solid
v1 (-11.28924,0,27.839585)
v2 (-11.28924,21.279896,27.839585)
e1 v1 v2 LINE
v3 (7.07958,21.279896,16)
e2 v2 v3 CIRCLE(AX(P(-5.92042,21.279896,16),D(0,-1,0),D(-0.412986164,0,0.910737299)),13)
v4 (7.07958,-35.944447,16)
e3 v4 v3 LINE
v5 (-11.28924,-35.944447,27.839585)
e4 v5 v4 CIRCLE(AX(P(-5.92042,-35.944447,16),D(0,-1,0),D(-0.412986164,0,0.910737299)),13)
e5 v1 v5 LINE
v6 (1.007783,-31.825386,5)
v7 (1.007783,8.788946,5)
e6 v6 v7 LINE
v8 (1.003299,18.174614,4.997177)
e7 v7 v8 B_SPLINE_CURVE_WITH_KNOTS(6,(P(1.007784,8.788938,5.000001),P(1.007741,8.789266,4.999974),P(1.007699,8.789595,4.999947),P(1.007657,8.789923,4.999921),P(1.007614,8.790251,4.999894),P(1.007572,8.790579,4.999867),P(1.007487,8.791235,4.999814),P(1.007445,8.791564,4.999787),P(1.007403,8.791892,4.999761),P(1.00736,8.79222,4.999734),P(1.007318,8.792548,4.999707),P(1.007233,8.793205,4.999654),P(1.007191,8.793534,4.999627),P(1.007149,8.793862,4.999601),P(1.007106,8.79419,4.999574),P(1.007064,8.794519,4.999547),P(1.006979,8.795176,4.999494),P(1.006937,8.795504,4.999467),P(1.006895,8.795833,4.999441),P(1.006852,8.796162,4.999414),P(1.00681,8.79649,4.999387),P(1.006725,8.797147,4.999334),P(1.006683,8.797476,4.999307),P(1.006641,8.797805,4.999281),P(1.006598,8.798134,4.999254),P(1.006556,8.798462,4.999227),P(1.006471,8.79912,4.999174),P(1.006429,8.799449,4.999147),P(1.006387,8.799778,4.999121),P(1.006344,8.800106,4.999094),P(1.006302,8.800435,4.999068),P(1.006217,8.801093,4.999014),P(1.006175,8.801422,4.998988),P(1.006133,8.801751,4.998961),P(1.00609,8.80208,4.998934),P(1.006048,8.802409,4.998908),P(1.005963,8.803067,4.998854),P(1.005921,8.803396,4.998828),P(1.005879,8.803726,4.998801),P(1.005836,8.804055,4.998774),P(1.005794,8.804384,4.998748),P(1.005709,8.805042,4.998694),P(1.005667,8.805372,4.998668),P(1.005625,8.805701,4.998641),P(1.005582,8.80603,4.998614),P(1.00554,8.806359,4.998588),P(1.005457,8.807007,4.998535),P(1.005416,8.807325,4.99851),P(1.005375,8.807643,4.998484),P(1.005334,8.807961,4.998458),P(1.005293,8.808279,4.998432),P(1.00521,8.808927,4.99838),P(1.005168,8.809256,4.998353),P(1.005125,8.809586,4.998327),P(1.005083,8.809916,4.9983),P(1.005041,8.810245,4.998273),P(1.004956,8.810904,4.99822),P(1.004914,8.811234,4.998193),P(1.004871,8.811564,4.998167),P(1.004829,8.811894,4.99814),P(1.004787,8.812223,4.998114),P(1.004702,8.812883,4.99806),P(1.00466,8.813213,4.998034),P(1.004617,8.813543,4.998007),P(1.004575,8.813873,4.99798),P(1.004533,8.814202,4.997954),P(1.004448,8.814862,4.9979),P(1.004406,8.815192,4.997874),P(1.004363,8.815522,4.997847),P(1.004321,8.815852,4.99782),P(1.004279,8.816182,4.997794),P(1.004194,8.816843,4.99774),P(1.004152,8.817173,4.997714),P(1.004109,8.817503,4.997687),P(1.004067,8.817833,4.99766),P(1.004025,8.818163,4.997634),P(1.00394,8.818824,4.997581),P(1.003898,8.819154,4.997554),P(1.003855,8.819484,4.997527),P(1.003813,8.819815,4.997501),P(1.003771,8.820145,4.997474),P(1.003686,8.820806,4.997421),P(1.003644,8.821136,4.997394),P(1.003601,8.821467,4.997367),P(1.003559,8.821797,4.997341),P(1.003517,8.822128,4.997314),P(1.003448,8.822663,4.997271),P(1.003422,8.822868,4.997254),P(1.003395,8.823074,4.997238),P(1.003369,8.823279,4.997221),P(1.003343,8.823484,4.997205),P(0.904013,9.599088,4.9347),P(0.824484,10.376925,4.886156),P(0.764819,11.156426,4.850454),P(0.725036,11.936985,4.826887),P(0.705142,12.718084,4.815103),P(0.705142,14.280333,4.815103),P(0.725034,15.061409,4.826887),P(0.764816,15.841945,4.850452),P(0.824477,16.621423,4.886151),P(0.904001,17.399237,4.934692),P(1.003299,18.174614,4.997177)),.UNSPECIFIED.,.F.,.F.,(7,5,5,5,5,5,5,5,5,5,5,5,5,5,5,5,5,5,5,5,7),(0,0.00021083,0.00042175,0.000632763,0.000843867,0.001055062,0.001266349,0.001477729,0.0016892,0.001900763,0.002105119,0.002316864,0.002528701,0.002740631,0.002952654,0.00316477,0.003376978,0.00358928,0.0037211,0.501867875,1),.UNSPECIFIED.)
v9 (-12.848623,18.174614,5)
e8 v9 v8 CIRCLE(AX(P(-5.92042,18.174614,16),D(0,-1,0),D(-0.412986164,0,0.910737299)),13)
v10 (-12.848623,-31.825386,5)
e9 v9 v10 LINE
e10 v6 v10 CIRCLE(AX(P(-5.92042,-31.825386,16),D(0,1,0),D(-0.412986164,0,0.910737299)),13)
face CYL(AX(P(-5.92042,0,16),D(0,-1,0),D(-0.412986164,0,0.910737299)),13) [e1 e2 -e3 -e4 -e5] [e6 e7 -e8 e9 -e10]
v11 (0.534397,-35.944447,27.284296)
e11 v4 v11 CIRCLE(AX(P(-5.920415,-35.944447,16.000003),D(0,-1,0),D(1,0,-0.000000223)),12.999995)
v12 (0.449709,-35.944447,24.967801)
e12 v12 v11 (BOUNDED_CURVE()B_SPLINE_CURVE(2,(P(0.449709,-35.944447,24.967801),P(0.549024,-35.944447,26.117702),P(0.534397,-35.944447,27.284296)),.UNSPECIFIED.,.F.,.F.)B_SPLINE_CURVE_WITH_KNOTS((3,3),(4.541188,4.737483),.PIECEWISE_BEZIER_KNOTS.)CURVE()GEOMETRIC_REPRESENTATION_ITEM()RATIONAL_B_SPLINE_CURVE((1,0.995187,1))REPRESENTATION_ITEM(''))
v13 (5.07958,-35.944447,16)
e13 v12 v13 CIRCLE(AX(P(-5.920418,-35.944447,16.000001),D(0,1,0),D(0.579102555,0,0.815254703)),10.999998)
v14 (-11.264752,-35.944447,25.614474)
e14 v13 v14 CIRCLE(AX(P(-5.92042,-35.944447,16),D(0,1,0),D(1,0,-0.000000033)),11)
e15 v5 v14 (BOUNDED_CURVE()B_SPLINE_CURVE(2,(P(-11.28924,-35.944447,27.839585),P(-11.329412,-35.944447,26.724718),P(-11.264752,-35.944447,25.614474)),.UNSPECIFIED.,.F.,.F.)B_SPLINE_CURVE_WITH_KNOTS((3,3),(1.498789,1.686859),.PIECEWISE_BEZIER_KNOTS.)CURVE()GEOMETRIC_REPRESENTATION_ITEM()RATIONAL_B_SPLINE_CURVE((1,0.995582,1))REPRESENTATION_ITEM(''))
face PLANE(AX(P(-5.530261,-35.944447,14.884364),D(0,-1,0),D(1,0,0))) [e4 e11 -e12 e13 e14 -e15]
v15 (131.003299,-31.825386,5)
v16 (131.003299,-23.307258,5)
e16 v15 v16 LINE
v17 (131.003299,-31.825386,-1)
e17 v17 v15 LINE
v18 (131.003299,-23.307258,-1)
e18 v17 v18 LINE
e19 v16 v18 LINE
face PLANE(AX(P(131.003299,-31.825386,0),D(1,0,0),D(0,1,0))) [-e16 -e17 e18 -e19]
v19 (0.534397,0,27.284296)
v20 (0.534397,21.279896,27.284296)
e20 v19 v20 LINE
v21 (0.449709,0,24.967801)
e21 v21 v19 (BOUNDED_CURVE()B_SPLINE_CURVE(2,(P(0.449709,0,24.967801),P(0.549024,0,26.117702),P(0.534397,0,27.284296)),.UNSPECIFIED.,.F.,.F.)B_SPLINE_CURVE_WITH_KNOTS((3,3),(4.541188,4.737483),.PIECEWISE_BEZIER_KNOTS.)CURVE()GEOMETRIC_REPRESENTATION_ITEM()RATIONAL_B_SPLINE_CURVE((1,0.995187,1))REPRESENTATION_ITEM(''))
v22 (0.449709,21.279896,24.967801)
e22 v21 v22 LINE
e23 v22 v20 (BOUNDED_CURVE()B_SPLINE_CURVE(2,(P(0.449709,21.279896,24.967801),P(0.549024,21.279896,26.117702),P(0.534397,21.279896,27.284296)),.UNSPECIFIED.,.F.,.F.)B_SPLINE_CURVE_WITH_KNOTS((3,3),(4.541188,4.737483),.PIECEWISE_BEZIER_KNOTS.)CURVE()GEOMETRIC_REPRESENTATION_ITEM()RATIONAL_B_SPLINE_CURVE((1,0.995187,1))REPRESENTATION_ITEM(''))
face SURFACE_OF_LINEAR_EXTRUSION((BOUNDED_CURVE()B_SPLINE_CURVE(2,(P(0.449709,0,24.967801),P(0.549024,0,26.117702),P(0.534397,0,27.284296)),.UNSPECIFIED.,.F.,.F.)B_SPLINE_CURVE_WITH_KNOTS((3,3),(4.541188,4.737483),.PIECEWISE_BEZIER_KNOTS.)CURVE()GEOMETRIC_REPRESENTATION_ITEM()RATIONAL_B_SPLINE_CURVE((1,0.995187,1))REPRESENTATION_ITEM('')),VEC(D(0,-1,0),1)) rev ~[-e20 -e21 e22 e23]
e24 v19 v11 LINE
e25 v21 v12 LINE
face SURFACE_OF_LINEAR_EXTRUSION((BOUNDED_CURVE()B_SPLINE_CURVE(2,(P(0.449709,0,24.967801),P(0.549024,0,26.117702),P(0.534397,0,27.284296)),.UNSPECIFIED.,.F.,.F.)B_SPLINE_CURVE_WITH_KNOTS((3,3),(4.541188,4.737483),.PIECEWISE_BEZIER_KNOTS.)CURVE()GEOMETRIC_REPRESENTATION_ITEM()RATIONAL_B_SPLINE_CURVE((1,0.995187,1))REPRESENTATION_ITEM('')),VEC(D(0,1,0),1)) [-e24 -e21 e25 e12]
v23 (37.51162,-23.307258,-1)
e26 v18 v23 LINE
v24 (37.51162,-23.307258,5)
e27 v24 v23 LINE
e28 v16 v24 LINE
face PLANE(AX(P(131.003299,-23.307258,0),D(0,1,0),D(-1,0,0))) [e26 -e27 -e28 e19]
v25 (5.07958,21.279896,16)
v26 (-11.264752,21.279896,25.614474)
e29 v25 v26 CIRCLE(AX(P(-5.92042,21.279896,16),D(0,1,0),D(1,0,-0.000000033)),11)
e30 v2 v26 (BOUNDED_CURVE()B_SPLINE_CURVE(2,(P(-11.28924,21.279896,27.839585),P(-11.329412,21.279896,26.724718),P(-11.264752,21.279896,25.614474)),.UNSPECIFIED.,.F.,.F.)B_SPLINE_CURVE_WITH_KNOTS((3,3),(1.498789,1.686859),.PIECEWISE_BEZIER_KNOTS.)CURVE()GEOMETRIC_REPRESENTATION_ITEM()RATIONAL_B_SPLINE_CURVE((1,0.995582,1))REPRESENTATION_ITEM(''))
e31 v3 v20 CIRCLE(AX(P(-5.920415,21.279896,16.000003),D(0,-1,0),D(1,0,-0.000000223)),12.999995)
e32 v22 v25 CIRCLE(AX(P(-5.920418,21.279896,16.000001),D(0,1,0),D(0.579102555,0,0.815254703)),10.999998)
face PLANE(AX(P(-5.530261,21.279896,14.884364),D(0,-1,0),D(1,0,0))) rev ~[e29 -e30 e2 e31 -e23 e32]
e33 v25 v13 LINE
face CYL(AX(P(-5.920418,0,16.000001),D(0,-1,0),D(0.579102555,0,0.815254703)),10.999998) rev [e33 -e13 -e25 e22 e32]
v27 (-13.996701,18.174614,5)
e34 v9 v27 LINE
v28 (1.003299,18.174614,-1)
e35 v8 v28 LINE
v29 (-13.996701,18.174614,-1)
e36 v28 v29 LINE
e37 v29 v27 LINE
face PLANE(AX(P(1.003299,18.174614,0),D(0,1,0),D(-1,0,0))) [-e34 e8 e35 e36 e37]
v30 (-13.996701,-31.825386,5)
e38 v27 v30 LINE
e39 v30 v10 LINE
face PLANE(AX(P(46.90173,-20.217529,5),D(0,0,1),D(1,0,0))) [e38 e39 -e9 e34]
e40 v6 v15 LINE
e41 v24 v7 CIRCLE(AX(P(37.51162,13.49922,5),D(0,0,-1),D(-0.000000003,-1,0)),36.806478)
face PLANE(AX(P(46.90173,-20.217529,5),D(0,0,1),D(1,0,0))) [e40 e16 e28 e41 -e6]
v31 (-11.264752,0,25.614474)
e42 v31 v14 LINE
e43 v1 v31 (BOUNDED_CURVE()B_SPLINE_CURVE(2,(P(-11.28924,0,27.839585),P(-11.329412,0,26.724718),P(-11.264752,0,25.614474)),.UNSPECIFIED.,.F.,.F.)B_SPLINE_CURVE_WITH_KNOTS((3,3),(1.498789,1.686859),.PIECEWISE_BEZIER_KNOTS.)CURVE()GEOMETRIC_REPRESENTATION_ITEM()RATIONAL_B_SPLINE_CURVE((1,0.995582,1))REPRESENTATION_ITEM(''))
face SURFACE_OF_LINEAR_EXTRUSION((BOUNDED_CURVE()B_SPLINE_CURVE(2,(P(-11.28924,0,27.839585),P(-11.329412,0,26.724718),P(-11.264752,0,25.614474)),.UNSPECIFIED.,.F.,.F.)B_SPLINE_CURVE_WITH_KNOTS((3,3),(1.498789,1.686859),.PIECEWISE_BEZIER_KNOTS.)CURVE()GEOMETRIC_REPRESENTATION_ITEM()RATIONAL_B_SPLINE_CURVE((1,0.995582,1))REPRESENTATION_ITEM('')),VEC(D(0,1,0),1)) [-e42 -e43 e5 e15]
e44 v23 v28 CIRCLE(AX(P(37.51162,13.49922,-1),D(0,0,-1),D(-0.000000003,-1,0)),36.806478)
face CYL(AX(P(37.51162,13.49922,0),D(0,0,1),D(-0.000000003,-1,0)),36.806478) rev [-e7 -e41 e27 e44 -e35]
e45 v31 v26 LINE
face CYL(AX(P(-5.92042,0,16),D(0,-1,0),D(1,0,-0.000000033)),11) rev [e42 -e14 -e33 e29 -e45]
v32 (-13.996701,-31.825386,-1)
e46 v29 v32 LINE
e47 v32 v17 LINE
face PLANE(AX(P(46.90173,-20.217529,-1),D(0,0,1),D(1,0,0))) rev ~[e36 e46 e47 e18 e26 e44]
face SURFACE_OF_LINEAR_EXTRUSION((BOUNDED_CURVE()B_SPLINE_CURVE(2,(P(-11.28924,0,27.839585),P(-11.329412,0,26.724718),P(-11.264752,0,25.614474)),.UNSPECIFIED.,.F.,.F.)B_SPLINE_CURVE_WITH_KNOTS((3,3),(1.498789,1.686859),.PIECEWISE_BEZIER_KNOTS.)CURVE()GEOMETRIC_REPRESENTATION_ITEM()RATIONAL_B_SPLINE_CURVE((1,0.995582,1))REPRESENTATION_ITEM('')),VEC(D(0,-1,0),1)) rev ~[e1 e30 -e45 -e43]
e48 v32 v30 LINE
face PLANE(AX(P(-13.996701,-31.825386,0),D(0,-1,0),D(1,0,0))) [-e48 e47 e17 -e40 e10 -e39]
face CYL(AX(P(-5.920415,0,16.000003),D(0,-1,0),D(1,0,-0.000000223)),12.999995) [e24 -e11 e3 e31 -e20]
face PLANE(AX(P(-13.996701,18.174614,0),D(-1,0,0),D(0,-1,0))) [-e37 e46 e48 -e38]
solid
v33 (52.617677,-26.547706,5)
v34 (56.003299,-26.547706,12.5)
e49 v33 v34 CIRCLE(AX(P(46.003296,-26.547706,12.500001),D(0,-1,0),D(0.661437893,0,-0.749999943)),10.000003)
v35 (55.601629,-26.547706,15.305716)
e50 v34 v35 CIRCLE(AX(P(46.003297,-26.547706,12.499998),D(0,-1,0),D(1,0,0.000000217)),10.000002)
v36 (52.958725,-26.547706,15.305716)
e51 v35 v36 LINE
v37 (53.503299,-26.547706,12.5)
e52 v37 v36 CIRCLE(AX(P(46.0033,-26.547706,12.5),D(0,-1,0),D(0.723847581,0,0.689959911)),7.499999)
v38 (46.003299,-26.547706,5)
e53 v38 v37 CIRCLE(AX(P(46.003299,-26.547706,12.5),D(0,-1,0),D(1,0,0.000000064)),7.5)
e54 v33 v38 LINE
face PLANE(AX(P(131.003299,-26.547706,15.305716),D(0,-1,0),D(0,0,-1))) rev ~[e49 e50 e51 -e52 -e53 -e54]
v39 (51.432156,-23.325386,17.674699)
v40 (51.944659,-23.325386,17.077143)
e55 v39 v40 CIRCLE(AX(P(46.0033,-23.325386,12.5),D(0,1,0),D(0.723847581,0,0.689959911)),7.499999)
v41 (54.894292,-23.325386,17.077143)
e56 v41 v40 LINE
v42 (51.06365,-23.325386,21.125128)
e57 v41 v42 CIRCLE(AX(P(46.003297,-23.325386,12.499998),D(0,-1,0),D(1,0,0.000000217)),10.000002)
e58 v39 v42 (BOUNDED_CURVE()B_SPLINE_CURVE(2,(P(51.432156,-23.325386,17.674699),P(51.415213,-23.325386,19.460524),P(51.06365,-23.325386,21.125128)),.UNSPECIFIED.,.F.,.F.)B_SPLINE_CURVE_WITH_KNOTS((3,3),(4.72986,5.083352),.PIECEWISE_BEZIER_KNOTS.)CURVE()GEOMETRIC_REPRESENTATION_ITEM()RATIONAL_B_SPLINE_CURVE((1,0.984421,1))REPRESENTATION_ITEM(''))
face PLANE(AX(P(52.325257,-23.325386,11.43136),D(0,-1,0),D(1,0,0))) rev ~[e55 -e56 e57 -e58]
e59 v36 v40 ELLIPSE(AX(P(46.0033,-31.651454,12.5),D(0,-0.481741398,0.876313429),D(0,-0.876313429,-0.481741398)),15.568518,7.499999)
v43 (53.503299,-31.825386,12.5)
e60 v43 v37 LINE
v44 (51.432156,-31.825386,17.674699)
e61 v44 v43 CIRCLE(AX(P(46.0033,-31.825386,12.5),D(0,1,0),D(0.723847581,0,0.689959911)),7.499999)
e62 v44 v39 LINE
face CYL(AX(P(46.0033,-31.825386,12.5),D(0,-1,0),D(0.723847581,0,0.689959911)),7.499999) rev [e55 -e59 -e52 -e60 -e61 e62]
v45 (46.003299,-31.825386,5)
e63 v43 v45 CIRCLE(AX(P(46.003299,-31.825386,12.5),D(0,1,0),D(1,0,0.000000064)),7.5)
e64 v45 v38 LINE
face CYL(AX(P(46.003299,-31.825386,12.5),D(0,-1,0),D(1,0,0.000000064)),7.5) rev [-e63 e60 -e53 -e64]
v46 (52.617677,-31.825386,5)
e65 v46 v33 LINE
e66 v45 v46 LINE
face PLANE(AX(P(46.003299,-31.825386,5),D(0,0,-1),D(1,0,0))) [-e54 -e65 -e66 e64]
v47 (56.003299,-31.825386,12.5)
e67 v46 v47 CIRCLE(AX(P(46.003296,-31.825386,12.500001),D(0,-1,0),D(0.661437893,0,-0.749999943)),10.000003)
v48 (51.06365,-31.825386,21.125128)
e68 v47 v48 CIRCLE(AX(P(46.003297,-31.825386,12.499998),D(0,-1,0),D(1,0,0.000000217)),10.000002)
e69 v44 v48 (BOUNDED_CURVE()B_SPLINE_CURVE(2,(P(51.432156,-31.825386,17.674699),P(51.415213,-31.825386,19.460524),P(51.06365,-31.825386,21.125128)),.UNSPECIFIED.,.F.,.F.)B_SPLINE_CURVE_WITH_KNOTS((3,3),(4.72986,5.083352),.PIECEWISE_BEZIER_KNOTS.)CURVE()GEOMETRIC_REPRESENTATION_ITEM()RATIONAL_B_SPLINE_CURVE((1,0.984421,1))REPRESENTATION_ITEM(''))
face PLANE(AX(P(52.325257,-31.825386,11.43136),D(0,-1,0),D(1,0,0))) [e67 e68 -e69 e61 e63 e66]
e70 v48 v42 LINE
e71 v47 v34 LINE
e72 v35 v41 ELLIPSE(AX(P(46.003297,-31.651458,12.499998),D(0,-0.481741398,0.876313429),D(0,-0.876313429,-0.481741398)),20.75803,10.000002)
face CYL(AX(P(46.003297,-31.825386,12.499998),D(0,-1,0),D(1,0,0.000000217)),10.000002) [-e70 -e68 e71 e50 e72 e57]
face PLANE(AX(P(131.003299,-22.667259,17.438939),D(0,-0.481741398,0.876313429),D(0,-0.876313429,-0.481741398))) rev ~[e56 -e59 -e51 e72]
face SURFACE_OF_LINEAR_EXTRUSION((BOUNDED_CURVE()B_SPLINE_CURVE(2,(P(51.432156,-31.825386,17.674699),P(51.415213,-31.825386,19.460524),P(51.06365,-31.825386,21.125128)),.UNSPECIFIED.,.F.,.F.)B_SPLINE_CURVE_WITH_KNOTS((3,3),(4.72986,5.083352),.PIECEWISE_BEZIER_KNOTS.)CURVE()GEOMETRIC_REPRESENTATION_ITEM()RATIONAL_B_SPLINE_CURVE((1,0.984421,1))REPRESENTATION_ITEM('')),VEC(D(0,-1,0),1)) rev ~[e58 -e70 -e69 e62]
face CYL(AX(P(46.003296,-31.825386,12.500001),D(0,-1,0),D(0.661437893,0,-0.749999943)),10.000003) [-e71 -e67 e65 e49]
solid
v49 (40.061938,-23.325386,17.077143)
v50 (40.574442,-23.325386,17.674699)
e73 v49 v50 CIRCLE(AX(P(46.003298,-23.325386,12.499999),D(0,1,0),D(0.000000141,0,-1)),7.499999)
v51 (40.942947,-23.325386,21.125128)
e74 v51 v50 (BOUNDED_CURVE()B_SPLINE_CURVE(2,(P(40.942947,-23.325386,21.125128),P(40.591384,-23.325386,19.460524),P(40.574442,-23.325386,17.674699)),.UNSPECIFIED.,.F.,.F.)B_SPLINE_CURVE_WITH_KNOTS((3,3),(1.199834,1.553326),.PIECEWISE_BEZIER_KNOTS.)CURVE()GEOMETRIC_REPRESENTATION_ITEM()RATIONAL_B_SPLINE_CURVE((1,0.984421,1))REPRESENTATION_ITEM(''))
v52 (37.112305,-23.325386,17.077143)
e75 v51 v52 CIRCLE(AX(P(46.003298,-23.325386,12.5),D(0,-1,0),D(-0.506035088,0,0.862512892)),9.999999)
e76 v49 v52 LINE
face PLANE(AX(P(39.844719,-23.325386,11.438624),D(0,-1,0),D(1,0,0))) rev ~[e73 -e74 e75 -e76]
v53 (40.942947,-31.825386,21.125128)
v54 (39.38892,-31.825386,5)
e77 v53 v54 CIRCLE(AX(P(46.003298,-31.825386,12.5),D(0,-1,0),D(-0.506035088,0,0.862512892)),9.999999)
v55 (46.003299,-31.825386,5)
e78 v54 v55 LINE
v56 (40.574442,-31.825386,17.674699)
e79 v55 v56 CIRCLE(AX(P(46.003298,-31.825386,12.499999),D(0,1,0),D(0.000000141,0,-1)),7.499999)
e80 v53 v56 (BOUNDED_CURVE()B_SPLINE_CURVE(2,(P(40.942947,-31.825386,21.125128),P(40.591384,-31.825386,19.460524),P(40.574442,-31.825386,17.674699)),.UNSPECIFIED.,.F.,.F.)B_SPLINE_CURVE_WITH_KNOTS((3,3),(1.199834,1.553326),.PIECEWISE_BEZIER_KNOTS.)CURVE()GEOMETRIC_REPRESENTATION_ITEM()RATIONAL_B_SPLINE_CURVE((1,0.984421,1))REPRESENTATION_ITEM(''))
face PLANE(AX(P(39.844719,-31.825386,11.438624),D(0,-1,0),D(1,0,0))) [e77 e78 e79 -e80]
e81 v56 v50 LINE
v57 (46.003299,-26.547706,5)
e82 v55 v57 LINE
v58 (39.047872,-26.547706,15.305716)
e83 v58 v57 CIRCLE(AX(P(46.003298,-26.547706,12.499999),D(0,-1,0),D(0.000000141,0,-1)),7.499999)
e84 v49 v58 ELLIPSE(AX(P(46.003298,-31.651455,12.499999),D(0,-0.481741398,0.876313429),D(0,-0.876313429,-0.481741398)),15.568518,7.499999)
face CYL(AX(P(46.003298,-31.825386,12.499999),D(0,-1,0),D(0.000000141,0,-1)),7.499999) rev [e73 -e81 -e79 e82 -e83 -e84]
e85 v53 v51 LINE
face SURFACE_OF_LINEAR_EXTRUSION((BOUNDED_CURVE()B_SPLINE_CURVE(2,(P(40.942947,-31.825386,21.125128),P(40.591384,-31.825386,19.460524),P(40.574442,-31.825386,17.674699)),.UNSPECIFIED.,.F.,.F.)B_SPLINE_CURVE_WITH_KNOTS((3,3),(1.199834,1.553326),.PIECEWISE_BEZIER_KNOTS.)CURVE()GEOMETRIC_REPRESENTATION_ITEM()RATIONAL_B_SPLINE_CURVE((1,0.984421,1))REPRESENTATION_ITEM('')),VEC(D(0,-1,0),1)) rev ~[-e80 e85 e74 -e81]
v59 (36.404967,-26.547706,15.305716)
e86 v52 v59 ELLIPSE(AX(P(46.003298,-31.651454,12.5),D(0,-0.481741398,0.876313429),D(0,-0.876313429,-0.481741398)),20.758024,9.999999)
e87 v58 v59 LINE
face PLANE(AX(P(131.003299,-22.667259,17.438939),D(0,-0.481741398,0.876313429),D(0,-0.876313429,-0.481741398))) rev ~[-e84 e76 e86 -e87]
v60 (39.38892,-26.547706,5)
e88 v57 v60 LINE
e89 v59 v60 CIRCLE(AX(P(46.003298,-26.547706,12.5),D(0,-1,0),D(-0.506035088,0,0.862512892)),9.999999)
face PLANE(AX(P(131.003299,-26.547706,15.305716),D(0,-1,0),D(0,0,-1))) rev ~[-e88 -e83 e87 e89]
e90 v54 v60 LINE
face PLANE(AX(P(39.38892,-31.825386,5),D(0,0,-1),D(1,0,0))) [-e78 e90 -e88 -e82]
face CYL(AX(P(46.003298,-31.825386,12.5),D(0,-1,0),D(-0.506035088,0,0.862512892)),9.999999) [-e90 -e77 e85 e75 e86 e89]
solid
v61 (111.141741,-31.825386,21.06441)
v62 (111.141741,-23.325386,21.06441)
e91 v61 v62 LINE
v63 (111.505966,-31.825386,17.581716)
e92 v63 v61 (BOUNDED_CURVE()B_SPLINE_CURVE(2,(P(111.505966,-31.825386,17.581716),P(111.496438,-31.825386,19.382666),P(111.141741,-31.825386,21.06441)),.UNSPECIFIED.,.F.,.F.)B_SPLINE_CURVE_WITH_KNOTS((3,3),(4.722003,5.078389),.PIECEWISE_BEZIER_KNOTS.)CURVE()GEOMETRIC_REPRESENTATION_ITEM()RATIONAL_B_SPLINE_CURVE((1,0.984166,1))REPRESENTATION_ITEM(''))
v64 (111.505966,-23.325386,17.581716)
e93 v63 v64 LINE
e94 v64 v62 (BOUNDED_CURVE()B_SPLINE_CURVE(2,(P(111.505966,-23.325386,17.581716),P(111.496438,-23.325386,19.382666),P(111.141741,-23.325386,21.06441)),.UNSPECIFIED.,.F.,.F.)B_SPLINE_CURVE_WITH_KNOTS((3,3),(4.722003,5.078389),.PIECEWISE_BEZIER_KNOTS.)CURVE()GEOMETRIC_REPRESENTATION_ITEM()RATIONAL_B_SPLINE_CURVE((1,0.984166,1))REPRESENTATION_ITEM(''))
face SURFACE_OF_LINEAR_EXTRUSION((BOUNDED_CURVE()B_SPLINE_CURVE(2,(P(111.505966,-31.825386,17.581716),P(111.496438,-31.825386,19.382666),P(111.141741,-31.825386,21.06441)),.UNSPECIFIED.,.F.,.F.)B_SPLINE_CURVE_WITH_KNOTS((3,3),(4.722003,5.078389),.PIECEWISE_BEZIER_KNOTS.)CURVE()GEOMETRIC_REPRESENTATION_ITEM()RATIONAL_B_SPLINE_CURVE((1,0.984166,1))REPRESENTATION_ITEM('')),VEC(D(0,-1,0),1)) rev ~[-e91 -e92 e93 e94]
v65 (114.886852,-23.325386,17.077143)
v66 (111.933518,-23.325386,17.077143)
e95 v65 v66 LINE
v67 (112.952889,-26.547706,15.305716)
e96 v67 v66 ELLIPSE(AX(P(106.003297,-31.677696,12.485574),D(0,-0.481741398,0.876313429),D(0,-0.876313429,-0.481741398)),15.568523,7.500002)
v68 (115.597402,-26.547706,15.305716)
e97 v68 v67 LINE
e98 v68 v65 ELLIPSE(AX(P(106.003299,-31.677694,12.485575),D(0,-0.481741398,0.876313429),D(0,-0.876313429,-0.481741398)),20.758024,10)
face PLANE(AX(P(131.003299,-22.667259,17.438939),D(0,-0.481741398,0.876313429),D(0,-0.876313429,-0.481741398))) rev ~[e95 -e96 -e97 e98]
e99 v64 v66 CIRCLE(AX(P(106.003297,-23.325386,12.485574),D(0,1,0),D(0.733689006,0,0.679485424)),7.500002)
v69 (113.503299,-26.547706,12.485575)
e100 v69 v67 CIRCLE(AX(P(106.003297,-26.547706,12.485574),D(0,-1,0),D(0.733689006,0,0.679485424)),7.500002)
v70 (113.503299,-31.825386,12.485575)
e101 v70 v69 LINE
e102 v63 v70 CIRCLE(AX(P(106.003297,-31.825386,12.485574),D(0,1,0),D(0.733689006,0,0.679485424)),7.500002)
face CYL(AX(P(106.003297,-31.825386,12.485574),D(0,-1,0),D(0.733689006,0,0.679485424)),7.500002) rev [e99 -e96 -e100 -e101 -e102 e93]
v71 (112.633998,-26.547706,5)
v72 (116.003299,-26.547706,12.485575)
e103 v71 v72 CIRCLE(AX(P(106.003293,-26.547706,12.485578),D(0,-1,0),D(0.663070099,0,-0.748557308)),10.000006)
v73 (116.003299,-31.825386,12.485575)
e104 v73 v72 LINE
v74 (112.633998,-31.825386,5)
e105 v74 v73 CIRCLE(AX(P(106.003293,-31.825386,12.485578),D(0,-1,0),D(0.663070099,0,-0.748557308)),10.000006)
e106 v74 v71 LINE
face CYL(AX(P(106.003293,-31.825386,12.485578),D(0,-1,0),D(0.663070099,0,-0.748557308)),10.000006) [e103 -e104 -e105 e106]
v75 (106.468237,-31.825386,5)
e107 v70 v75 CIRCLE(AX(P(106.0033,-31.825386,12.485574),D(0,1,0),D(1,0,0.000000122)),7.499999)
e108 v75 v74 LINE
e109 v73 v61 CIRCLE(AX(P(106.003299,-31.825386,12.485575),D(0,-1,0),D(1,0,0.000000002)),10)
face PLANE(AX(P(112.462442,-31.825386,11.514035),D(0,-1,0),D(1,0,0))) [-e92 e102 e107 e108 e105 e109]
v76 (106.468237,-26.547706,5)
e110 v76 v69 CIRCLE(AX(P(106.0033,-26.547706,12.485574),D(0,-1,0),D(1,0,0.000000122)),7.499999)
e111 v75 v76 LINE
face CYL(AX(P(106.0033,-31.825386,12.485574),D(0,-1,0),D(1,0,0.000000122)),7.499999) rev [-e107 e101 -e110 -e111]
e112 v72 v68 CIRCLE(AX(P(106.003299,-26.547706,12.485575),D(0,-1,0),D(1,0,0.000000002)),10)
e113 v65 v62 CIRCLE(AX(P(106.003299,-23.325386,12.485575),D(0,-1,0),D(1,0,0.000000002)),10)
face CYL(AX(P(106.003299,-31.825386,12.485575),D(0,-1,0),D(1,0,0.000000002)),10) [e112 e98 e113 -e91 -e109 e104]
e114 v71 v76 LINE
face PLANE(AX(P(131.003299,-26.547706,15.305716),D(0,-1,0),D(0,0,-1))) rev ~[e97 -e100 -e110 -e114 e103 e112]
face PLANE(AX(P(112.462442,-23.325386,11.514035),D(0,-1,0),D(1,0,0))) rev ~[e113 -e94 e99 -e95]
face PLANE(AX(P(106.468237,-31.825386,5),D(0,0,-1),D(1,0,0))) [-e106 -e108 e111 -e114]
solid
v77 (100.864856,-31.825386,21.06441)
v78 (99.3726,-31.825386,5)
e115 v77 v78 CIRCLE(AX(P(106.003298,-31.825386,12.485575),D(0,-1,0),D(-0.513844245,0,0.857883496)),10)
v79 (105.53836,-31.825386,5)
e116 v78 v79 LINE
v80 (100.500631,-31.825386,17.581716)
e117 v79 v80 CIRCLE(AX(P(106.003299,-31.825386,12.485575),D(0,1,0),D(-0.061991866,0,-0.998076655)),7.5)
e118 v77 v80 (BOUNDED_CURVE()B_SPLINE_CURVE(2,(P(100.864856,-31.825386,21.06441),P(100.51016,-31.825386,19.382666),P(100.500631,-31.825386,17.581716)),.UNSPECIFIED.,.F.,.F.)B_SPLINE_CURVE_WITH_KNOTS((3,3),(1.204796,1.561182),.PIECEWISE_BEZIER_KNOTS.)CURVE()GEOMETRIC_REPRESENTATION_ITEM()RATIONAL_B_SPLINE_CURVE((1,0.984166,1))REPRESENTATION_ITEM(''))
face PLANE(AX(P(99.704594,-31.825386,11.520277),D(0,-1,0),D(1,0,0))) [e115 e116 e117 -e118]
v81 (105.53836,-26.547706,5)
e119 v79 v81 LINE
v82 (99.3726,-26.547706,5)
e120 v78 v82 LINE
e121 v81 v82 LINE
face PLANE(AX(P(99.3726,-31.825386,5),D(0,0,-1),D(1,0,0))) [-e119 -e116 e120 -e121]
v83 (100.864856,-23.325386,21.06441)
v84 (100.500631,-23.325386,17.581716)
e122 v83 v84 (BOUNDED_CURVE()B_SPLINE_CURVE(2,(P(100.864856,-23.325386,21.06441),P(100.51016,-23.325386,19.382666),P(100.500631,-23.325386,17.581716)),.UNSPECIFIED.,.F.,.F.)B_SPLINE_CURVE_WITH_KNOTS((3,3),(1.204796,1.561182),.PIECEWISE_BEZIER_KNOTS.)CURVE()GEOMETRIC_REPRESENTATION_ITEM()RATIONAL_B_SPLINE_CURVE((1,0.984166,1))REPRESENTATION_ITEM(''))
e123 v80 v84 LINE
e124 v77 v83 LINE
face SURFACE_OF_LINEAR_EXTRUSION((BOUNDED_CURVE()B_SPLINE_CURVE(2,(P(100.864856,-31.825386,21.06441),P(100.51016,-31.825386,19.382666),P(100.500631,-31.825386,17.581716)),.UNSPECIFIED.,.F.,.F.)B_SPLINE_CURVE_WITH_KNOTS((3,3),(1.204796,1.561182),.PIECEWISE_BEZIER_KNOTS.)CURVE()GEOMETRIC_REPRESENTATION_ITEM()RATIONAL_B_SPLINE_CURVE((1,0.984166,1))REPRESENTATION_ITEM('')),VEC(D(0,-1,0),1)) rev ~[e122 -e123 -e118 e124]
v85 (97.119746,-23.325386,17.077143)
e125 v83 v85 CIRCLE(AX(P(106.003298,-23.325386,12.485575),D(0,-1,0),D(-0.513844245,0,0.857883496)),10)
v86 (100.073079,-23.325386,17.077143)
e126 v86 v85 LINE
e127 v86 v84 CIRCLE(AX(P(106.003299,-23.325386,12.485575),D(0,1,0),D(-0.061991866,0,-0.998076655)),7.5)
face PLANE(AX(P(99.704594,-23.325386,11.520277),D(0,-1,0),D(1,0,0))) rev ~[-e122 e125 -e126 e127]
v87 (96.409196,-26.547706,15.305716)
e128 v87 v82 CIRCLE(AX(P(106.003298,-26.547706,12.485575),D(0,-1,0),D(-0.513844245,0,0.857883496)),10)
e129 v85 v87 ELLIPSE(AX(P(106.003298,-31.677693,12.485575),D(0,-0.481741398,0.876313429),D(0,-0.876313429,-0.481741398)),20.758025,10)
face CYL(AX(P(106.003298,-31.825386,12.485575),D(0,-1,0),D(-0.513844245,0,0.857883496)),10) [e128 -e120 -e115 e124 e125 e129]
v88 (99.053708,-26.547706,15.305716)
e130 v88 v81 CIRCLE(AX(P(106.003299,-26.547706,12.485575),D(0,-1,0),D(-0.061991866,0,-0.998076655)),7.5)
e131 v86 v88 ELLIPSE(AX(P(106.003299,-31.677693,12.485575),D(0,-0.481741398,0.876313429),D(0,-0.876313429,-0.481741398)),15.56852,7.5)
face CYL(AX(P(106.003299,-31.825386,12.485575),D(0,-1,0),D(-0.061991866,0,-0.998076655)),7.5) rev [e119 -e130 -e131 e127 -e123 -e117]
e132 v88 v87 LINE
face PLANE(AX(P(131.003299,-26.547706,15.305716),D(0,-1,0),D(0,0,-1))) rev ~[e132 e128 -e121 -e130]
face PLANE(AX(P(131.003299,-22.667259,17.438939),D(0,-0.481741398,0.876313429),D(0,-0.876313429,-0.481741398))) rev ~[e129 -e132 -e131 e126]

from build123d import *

# Parameters (mm, degrees)
F1_DEPTH      = 5
F1_DEPTH_BACK = 1
F3_DEPTH      = 35.944447
F3_DEPTH_BACK = 21.279896
F5_DEPTH      = 8.5
F7_DEPTH      = 102.259973


with BuildPart() as f1:
    # F0 (on Top) → F1 (new body, two sides)
    with BuildSketch(Plane.XY) as f1_sk:
        with BuildLine():
            Line((1.003299, 18.174614), (-13.996701, 18.174614))
            Line((-13.996701, 18.174614), (-13.996701, -31.825386))
            Line((-13.996701, -31.825386), (131.003299, -31.825386))
            Line((131.003299, -31.825386), (131.003299, -23.307258))
            Line((131.003299, -23.307258), (37.51162, -23.307258))
            ThreePointArc((37.51162, -23.307258), (9.881912, -10.817771), (1.003299, 18.174614))
        make_face()
    extrude(amount=F1_DEPTH)
    extrude(f1_sk.sketch, amount=-F1_DEPTH_BACK)

    # F2 (on Front) → F3 (join, two sides)
    with BuildSketch(Plane.XZ) as f3_sk:
        with BuildLine():
            ThreePointArc((0.449709, 24.967801), (3.853817, 21.046216), (5.07958, 16))
            ThreePointArc((5.07958, 16), (-11.49771, 6.518765), (-11.264752, 25.614474))
            add(Edge.make_bspline(
                [(-11.28924, 27.839585), (-11.329412, 26.724718), (-11.264752, 25.614474)],
                knots=[1.498789, 1.498789, 1.498789, 1.686859, 1.686859, 1.686859], degree=2, weights=[1, 0.995582, 1]))
            ThreePointArc((-11.28924, 27.839585), (-12.963335, 5.073091), (7.07958, 16))
            ThreePointArc((7.07958, 16), (5.32486, 22.522553), (0.534397, 27.284296))
            add(Edge.make_bspline(
                [(0.449709, 24.967801), (0.549024, 26.117702), (0.534397, 27.284296)],
                knots=[4.541188, 4.541188, 4.541188, 4.737483, 4.737483, 4.737483], degree=2, weights=[1, 0.995187, 1]))
        make_face()
    extrude(amount=F3_DEPTH)
    extrude(f3_sk.sketch, amount=-F3_DEPTH_BACK)


with BuildPart() as f5:
    # F4 (on face) → F5 (new body)
    with BuildSketch(Plane.XZ.offset(31.825386)):
        with BuildLine():
            Line((39.38892, 5), (46.003299, 5))
            ThreePointArc((46.003299, 5), (39.109089, 9.547056), (40.574442, 17.674699))
            add(Edge.make_bspline(
                [(40.942947, 21.125128), (40.591384, 19.460524), (40.574442, 17.674699)],
                knots=[1.199834, 1.199834, 1.199834, 1.553326, 1.553326, 1.553326], degree=2, weights=[1, 0.984421, 1]))
            ThreePointArc((40.942947, 21.125128), (36.049416, 13.459285), (39.38892, 5))
        make_face()
        with BuildLine():
            ThreePointArc((51.432156, 17.674699), (52.966288, 15.286895), (53.503299, 12.5))
            ThreePointArc((53.503299, 12.5), (51.3066, 7.196699), (46.003299, 5))
            Line((46.003299, 5), (52.617677, 5))
            ThreePointArc((52.617677, 5), (55.117677, 8.385622), (56.003299, 12.5))
            ThreePointArc((56.003299, 12.5), (54.680957, 17.469732), (51.06365, 21.125128))
            add(Edge.make_bspline(
                [(51.432156, 17.674699), (51.415213, 19.460524), (51.06365, 21.125128)],
                knots=[4.72986, 4.72986, 4.72986, 5.083352, 5.083352, 5.083352], degree=2, weights=[1, 0.984421, 1]))
        make_face()
        with BuildLine():
            Line((106.468237, 5), (112.633998, 5))
            ThreePointArc((112.633998, 5), (115.122152, 8.381125), (116.003299, 12.485575))
            ThreePointArc((116.003299, 12.485575), (114.703426, 17.415868), (111.141741, 21.06441))
            add(Edge.make_bspline(
                [(111.505966, 17.581716), (111.496438, 19.382666), (111.141741, 21.06441)],
                knots=[4.722003, 4.722003, 4.722003, 5.078389, 5.078389, 5.078389], degree=2, weights=[1, 0.984166, 1]))
            ThreePointArc((111.505966, 17.581716), (112.986135, 15.222361), (113.503299, 12.485575))
            ThreePointArc((113.503299, 12.485575), (111.468509, 7.349284), (106.468237, 5))
        make_face()
        with BuildLine():
            ThreePointArc((100.864856, 21.06441), (96.046166, 13.410514), (99.3726, 5))
            Line((99.3726, 5), (105.53836, 5))
            ThreePointArc((105.53836, 5), (99.040686, 9.69774), (100.500631, 17.581716))
            add(Edge.make_bspline(
                [(100.864856, 21.06441), (100.51016, 19.382666), (100.500631, 17.581716)],
                knots=[1.204796, 1.204796, 1.204796, 1.561182, 1.561182, 1.561182], degree=2, weights=[1, 0.984166, 1]))
        make_face()
    extrude(amount=-F5_DEPTH)

    # F6 (on face) → F7 (cut)
    with BuildSketch(Plane.YZ.offset(131.003299)):
        Polygon((-26.547706, 15.305716), (-26.547706, 5), (-23.307258, 5), (-22.667259, 5), (-22.667259, 17.438939), align=None)
    extrude(amount=-F7_DEPTH, mode=Mode.SUBTRACT)


solid = Compound([f1.part, f5.part])
